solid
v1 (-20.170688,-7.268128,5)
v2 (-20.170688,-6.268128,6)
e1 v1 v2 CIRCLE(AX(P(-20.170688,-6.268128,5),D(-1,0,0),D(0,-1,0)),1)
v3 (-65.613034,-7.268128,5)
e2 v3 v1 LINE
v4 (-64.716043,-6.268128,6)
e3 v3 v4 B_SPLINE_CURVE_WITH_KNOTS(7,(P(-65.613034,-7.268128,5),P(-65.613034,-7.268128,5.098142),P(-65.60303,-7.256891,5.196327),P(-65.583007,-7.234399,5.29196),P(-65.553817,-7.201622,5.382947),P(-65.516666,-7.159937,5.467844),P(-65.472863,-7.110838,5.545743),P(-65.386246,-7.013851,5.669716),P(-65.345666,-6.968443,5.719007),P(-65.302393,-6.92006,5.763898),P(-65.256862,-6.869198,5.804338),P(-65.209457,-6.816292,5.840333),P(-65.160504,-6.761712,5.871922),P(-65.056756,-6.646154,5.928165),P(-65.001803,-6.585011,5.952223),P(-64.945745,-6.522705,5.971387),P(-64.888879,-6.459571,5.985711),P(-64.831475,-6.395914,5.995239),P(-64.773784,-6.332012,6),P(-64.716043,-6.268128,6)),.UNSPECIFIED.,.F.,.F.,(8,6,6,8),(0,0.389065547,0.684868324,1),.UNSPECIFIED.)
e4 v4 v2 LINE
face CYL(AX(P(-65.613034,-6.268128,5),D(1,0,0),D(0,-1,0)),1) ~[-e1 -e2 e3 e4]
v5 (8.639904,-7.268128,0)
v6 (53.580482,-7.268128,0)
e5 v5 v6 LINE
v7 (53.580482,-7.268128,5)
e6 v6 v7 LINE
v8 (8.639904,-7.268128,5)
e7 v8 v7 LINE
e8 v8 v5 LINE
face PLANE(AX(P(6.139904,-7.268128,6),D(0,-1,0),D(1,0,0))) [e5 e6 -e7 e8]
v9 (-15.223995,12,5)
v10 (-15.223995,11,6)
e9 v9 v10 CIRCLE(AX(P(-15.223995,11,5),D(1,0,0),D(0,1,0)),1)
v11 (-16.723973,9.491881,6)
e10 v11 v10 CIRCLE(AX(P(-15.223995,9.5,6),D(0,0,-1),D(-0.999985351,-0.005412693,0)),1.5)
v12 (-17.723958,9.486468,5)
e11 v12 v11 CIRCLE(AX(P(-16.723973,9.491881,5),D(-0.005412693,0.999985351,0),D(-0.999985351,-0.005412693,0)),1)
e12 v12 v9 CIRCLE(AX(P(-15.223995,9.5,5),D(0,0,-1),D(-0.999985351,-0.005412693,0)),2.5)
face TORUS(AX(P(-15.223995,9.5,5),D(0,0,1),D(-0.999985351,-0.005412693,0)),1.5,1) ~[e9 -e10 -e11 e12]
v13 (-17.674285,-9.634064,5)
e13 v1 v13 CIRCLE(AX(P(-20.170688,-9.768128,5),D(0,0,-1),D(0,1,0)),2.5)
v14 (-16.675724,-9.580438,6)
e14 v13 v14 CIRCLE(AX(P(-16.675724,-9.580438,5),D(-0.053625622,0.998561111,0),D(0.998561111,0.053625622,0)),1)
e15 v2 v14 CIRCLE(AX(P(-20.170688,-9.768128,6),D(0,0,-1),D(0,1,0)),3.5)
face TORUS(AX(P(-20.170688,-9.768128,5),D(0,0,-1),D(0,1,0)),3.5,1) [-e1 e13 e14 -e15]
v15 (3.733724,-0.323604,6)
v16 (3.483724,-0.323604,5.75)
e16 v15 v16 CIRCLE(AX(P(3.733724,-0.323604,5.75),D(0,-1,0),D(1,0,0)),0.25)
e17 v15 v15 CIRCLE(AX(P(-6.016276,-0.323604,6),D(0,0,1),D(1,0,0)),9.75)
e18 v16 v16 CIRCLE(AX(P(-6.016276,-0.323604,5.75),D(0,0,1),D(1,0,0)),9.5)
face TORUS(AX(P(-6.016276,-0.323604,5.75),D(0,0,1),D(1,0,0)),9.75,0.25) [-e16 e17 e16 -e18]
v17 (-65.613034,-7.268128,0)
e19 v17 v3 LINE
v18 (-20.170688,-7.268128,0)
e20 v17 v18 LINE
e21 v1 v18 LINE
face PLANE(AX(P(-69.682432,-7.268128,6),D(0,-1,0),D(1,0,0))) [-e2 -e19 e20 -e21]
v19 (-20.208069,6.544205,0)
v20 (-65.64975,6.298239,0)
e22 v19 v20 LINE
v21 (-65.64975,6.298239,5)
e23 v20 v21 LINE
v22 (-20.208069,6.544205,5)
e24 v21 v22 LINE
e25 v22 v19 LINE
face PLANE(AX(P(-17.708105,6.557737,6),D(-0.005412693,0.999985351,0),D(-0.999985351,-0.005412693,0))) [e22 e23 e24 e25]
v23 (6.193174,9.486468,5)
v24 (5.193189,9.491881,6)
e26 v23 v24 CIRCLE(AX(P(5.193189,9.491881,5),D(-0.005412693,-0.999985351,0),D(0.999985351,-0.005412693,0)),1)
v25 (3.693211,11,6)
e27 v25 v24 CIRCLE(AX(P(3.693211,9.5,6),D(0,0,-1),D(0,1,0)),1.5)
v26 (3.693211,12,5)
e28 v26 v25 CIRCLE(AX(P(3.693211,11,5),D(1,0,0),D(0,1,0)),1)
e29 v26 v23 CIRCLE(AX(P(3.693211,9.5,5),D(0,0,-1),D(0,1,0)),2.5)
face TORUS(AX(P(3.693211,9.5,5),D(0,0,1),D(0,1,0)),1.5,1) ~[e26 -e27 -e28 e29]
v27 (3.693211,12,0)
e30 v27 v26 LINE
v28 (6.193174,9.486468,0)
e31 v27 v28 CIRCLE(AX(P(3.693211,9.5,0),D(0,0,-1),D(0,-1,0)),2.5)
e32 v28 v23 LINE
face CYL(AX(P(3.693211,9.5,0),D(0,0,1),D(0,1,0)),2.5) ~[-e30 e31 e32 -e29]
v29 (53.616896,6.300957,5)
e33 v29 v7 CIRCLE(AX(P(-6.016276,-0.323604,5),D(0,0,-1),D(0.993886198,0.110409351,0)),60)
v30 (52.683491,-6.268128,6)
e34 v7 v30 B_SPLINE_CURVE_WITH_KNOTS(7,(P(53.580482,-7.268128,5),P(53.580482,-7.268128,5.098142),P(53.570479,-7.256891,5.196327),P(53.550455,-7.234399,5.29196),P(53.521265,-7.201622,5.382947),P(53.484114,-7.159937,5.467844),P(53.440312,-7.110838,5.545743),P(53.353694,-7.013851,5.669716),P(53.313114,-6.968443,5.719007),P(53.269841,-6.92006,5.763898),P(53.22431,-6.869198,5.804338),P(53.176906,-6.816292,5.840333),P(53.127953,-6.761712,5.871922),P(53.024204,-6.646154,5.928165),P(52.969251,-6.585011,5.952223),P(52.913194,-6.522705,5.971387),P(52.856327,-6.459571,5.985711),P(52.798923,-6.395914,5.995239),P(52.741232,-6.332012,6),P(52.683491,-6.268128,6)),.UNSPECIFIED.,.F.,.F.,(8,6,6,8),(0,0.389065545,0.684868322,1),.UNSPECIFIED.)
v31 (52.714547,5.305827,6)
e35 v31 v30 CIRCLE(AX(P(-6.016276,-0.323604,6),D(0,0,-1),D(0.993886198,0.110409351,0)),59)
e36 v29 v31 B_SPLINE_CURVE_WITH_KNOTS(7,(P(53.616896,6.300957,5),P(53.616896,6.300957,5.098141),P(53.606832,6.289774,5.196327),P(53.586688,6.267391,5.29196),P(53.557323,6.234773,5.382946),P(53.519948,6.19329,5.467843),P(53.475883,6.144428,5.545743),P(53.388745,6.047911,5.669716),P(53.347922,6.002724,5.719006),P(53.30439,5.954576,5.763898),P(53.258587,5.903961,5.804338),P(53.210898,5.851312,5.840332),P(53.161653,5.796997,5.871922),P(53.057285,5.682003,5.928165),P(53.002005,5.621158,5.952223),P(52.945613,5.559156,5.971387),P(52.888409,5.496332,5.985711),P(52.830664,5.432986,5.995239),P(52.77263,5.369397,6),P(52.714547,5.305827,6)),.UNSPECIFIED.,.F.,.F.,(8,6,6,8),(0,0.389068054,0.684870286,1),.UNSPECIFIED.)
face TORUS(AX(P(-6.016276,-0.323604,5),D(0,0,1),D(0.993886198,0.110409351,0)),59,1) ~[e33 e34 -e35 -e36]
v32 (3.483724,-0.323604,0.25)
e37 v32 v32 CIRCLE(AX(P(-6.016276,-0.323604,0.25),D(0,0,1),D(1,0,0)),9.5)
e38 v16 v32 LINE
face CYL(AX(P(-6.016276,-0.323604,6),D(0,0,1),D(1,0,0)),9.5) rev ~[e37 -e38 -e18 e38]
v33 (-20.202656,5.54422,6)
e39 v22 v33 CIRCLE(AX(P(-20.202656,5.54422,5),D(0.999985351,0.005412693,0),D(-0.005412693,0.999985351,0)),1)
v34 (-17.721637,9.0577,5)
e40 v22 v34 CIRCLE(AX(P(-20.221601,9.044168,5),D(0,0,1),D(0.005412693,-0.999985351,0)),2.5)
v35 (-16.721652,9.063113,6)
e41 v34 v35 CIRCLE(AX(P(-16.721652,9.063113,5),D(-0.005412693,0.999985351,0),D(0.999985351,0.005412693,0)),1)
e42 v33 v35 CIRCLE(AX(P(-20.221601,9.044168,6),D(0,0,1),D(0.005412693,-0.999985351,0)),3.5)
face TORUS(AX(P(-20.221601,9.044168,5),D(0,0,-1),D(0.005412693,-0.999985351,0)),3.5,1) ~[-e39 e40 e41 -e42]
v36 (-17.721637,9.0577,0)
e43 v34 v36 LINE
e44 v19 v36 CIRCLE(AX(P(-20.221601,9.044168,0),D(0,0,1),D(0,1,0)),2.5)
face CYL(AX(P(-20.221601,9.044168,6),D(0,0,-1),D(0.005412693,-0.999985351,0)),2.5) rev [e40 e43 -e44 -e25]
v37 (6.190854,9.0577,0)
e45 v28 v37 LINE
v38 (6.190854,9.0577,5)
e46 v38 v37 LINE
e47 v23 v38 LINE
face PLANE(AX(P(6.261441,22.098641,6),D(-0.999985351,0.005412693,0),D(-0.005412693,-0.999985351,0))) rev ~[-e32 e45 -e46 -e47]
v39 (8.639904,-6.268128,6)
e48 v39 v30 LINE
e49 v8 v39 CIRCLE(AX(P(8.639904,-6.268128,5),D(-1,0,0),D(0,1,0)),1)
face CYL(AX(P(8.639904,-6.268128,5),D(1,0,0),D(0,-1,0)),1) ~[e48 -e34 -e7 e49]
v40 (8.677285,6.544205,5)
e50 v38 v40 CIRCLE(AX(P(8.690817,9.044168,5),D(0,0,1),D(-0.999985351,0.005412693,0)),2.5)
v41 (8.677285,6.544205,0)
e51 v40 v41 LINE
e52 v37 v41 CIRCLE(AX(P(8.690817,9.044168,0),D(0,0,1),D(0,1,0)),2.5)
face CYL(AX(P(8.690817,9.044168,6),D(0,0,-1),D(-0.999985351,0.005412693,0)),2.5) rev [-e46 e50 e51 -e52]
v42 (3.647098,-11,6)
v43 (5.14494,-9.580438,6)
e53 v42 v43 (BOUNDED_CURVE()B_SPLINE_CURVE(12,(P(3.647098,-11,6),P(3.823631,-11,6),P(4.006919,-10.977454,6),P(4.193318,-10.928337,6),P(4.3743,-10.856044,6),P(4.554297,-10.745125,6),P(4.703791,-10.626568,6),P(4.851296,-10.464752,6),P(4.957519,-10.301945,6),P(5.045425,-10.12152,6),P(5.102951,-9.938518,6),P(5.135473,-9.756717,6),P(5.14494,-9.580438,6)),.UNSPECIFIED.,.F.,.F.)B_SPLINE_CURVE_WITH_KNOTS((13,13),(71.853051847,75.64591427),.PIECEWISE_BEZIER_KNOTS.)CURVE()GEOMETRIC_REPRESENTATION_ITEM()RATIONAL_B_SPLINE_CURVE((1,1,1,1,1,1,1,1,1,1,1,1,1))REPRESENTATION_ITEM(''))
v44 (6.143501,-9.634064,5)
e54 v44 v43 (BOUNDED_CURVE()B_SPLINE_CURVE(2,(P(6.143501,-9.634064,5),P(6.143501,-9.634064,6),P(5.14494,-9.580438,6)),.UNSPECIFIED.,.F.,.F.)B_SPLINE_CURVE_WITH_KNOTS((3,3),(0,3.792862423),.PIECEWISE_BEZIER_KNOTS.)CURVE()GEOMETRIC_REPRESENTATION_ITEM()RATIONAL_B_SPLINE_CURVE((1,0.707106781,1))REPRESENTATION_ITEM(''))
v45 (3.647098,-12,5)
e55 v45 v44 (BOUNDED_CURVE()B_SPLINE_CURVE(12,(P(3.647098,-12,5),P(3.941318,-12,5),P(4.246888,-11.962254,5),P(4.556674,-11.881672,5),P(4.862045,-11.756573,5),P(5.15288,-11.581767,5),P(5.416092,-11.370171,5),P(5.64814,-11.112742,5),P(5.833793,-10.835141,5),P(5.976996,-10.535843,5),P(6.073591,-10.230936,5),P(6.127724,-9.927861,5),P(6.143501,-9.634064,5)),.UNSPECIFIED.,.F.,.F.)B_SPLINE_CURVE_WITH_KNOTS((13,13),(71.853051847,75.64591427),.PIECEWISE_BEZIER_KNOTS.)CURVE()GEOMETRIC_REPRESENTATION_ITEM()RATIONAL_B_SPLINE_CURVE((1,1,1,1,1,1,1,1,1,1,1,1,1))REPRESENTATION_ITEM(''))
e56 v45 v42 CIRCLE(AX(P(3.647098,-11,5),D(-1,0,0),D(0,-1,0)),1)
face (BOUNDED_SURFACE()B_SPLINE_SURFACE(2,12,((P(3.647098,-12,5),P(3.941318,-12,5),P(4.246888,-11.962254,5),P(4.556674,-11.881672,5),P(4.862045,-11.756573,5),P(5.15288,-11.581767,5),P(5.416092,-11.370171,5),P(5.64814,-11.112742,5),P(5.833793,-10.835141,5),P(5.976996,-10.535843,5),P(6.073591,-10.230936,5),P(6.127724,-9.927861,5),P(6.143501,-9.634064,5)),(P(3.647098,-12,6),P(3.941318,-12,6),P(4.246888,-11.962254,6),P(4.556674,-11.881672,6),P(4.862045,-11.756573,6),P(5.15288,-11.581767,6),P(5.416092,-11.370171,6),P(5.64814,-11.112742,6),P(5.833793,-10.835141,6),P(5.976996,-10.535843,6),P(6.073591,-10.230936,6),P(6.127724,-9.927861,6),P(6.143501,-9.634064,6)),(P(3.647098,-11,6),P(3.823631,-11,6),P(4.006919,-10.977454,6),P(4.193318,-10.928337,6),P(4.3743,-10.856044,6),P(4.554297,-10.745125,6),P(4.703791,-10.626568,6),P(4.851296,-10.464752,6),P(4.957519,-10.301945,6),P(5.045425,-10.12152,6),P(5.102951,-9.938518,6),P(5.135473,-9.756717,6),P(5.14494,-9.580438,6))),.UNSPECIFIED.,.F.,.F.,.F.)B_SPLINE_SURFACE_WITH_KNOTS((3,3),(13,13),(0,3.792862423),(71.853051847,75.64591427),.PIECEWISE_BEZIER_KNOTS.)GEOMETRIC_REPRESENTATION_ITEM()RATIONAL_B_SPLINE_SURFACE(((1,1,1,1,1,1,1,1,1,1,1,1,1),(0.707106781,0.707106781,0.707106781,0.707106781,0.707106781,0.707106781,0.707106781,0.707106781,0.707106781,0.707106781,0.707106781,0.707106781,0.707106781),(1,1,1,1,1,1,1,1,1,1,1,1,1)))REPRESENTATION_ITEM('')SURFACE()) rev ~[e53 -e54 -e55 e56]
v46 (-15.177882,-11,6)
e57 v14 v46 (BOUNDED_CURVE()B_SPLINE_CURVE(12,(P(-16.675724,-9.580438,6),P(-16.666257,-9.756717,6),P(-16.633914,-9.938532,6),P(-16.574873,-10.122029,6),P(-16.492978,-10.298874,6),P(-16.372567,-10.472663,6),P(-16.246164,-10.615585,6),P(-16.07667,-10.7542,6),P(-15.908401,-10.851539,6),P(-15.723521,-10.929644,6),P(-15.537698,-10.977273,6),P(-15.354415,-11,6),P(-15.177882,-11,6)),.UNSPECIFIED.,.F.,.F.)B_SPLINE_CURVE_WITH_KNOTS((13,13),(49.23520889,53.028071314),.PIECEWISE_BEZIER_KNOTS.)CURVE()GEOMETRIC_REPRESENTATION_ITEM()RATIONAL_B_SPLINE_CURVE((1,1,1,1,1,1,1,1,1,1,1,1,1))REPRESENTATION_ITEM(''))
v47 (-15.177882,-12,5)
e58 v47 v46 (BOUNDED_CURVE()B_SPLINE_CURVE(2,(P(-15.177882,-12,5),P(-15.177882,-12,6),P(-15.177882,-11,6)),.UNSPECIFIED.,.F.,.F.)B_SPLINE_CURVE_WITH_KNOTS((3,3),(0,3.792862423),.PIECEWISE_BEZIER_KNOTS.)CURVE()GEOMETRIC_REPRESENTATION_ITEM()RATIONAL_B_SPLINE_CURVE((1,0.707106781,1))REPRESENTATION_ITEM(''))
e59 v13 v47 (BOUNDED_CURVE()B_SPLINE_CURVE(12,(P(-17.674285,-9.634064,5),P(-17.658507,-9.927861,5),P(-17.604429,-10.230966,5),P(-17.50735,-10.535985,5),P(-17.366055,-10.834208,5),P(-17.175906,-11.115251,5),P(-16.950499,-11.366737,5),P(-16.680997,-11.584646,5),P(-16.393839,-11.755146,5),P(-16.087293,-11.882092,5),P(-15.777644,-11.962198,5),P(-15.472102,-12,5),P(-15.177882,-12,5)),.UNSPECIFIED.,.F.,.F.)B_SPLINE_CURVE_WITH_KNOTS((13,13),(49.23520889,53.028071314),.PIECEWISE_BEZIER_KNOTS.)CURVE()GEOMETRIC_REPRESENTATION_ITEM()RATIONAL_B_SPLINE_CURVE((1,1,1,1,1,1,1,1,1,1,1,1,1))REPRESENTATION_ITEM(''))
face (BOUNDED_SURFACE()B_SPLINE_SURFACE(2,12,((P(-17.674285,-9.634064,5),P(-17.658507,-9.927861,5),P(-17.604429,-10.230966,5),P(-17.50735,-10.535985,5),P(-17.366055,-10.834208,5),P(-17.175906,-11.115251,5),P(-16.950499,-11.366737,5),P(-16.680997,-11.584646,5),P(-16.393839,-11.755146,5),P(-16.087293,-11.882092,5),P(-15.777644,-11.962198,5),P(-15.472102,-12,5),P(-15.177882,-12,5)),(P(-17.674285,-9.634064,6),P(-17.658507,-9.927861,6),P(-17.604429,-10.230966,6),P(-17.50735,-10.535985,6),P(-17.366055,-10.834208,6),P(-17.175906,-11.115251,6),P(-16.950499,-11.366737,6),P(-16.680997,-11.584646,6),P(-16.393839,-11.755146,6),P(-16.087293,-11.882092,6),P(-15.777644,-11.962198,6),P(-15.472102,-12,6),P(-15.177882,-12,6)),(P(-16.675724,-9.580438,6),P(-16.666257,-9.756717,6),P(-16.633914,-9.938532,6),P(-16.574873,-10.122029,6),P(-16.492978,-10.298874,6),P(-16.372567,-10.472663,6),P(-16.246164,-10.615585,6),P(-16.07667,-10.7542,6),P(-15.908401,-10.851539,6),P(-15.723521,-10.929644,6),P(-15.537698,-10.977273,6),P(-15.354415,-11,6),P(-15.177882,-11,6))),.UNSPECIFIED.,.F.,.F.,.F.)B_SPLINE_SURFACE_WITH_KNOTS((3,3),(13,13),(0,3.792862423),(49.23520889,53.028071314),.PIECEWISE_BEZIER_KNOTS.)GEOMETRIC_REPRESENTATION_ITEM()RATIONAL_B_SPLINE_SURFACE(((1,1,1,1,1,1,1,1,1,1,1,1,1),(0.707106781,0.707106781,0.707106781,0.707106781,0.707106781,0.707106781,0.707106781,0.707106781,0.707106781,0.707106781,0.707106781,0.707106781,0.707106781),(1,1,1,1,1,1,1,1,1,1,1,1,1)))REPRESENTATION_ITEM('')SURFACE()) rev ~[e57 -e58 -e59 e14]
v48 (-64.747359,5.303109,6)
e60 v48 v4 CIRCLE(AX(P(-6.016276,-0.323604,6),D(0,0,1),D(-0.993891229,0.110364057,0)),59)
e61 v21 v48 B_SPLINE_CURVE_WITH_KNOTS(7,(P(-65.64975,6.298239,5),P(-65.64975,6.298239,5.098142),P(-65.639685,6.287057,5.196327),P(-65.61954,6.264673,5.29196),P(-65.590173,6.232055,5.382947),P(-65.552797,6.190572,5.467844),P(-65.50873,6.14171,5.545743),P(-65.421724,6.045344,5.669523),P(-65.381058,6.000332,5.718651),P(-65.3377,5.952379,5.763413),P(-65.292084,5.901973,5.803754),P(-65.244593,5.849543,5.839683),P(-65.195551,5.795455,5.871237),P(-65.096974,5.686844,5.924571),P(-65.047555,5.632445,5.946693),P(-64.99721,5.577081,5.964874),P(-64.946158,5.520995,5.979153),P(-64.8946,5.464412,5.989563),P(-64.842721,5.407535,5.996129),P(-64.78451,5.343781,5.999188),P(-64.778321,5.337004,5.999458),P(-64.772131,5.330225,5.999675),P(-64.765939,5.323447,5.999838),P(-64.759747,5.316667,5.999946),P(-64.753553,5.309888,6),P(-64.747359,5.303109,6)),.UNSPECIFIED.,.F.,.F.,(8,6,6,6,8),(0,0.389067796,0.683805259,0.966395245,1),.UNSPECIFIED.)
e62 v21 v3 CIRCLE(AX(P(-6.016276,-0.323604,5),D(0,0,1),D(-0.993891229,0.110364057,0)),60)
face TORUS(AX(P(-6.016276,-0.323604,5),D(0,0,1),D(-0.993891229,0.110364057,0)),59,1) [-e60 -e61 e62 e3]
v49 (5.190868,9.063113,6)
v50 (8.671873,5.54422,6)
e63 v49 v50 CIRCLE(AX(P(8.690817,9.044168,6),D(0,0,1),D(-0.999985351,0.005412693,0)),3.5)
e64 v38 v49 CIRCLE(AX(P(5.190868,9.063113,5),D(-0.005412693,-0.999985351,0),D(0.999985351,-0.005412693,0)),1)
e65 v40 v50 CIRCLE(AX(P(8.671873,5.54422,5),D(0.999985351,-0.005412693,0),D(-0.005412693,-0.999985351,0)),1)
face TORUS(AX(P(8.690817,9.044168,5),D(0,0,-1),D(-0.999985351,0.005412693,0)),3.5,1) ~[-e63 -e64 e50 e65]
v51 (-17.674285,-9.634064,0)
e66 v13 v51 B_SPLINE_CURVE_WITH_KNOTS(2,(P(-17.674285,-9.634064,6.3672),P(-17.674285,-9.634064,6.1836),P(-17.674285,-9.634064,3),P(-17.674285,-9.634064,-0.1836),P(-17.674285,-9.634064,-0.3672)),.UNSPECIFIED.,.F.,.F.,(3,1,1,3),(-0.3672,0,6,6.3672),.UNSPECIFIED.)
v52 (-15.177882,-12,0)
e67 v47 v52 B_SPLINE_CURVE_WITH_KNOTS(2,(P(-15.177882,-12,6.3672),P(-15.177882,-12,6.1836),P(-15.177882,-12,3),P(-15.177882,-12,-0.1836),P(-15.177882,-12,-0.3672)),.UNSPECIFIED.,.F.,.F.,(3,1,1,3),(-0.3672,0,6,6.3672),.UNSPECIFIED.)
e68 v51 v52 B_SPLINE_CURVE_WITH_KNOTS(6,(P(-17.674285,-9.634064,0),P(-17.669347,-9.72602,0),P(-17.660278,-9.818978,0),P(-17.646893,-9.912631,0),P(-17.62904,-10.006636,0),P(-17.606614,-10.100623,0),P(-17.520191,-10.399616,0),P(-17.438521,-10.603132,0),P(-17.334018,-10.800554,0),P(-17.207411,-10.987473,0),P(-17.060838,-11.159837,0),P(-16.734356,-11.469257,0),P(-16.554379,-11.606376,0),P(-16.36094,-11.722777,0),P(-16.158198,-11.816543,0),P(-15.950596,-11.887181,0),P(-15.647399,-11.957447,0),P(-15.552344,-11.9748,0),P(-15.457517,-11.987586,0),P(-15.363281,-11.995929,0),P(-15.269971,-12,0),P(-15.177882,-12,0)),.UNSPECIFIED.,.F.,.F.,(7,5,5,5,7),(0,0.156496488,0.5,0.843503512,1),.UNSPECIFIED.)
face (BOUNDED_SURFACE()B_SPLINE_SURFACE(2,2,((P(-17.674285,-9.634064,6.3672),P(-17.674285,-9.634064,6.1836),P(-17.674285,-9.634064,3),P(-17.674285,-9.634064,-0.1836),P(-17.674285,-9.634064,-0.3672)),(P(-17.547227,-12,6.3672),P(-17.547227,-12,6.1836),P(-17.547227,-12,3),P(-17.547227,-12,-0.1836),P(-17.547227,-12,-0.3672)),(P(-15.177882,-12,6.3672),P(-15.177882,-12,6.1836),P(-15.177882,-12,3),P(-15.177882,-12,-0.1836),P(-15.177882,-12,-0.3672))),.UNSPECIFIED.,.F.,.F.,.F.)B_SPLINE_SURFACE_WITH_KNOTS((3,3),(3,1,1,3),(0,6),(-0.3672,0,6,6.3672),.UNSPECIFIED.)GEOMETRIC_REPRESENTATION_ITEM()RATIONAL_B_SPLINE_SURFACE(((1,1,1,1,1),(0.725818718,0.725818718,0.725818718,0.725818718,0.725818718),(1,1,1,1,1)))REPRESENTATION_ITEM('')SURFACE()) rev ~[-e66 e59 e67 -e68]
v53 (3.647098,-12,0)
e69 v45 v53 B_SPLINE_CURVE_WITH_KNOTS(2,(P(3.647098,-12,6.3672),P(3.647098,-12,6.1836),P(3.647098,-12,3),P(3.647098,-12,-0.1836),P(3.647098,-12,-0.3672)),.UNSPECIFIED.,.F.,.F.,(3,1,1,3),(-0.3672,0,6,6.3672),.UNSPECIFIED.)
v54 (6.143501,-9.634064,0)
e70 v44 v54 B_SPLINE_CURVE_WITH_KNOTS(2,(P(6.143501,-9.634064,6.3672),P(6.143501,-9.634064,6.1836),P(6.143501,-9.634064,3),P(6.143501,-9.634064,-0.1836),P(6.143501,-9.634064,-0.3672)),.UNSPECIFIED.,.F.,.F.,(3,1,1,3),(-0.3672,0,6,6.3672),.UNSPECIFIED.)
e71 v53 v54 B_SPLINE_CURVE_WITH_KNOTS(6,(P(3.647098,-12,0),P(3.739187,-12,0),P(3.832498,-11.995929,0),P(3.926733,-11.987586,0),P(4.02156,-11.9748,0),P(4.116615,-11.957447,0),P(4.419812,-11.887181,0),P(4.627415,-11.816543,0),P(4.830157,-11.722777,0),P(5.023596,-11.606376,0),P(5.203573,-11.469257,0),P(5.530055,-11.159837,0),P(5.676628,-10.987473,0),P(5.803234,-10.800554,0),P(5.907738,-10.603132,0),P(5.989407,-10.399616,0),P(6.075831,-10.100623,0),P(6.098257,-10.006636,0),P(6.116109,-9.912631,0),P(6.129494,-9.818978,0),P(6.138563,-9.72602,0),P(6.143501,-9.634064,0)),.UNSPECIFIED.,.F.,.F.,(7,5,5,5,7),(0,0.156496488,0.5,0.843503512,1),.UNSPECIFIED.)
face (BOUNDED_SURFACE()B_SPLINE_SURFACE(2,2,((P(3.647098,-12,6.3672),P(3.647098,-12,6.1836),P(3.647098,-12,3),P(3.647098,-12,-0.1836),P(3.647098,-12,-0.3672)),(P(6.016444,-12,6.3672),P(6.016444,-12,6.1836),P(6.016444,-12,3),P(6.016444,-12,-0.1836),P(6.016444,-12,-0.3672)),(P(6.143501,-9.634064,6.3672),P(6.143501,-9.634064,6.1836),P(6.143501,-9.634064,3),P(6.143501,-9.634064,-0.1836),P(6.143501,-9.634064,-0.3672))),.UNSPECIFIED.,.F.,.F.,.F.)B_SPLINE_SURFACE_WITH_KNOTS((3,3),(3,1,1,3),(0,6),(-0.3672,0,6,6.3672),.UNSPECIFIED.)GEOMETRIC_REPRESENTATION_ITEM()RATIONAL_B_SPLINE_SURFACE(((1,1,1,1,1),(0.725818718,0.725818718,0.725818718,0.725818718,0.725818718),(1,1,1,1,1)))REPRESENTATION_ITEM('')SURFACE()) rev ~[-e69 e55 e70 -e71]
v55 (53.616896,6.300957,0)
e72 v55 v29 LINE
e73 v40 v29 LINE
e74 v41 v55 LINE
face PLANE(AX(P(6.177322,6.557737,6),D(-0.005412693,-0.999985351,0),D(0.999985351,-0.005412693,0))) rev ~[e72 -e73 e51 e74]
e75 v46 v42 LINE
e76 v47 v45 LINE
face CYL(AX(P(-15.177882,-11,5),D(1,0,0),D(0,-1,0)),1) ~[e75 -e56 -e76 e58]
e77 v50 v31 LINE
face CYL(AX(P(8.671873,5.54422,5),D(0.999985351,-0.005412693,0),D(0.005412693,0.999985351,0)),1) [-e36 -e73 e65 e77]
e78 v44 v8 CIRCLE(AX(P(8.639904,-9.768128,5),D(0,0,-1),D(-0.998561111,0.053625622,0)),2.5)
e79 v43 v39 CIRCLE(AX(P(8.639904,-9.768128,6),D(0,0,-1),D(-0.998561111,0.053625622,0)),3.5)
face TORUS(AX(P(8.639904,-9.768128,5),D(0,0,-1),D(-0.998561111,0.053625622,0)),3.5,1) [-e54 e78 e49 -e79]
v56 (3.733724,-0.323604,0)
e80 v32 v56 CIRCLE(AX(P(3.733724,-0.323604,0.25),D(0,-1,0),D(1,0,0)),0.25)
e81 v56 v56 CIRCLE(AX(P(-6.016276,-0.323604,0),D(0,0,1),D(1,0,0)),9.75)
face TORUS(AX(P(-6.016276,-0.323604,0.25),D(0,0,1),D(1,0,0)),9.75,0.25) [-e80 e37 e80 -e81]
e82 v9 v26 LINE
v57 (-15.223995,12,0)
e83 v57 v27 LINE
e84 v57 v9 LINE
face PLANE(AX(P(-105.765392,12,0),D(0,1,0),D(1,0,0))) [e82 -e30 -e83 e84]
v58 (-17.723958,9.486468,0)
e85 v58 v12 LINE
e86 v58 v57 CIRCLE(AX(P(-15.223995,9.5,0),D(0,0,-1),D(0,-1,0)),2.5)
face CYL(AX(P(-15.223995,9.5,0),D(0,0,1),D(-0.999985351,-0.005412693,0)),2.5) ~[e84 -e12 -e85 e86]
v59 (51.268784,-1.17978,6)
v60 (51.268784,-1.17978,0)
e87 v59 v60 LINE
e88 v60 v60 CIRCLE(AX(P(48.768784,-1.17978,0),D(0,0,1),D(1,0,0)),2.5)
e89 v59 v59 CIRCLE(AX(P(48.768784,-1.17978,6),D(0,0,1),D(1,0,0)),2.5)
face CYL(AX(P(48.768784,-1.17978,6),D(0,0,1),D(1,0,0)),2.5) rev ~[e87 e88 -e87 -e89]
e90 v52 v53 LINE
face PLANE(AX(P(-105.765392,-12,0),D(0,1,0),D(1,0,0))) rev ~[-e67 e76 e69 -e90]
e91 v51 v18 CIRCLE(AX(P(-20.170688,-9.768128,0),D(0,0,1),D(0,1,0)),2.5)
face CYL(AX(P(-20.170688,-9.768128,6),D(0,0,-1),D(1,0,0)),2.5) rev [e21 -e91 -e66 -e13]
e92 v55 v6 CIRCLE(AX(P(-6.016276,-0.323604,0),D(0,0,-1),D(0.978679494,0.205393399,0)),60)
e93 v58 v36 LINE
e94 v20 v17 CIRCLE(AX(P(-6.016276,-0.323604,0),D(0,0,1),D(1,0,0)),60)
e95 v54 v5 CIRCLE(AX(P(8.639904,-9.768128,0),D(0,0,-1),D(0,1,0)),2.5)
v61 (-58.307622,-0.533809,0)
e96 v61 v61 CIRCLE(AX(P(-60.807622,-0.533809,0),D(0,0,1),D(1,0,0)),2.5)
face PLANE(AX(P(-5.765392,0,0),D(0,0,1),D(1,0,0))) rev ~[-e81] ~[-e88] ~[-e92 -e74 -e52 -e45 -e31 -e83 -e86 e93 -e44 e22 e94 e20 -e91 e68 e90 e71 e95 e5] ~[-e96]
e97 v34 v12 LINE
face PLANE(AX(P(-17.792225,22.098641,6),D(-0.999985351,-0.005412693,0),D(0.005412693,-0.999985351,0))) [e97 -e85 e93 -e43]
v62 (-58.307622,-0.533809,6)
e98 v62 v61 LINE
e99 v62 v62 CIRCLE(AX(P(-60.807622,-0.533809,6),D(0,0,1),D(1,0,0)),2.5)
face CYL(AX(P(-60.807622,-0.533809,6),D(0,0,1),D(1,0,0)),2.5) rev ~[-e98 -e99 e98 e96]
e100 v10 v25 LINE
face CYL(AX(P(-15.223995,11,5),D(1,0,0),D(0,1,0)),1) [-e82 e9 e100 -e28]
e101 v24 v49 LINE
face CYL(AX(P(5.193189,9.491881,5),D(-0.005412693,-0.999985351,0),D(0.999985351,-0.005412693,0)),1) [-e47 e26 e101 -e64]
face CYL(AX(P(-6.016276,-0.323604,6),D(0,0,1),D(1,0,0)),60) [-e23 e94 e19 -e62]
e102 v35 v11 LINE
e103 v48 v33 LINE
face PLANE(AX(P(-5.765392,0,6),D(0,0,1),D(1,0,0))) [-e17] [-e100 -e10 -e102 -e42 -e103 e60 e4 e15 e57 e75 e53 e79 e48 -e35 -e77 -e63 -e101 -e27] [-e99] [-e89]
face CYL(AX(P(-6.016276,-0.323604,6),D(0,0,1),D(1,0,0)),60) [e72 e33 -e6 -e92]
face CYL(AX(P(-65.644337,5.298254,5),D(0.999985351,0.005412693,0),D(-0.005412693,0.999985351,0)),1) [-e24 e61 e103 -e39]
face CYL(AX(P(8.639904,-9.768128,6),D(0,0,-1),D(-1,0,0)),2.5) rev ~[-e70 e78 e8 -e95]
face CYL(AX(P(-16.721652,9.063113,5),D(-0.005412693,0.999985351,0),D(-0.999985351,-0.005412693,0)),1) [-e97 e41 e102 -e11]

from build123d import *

# Parameters (mm, degrees)
ESQUISSE1_W             = 200
ESQUISSE1_H             = 24
BOSS_EXTRU_1_DEPTH      = 6
ESQUISSE3_R             = 9.5
ENL_V_MAT_EXTRU_1_DEPTH = 6
ESQUISSE4_R             = 114.275088212
ESQUISSE4_R_2           = 60
ENL_V_MAT_EXTRU_2_DEPTH = 6
ESQUISSE5_W             = 52.011744551
ESQUISSE5_H             = 15.54113196
ESQUISSE5_W_2           = 52.011744552
ENL_V_MAT_EXTRU_3_DEPTH = 6
CONG_1_R                = 2.5
CONG_2_R                = 2.5
CONG_3_R                = 1
CONG_4_R                = 0.25
CONG_5_R                = 0.25
ESQUISSE6_R             = 2.5
ENL_V_MAT_EXTRU_4_DEPTH = 68.365782888


with BuildPart() as part:
    # Esquisse1 → Boss.-Extru.1 (new body)
    with BuildSketch(Plane.XY):
        with Locations((-5.765391807, 0)):
            Rectangle(ESQUISSE1_W, ESQUISSE1_H)
    extrude(amount=BOSS_EXTRU_1_DEPTH)

    # Esquisse3 → Enlèv. mat.-Extru.1 (cut)
    with BuildSketch(Plane.XY.offset(6)):
        with Locations((-6.016275927, -0.323603958)):
            Circle(ESQUISSE3_R)
    extrude(amount=-ENL_V_MAT_EXTRU_1_DEPTH, mode=Mode.SUBTRACT)

    # Esquisse4 → Enlèv. mat.-Extru.2 (cut)
    with BuildSketch(Plane.XY.offset(6)):
        with Locations((-6.016275927, -0.323603958)):
            Circle(ESQUISSE4_R)
        with Locations((-6.016275927, -0.323603958)):
            Circle(ESQUISSE4_R_2, mode=Mode.SUBTRACT)
    extrude(amount=-ENL_V_MAT_EXTRU_2_DEPTH, mode=Mode.SUBTRACT)

    # Esquisse5 → Enlèv. mat.-Extru.3 (cut)
    with BuildSketch(Plane.XY.offset(6)):
        Polygon((-69.803207514, 21.817117384), (-17.792224869, 22.098641011), (-17.708105486, 6.557736709), (-69.719088132, 6.276213083), align=None)
        with Locations((-43.676559905, -15.038694091)):
            Rectangle(ESQUISSE5_W, ESQUISSE5_H)
        with Locations((32.145776291, -15.038694091)):
            Rectangle(ESQUISSE5_W_2, ESQUISSE5_H)
        Polygon((58.188304518, 6.276213083), (58.272423901, 21.817117384), (6.261441255, 22.098641011), (6.177321873, 6.557736709), align=None)
    extrude(amount=-ENL_V_MAT_EXTRU_3_DEPTH, mode=Mode.SUBTRACT)

    # Congé1
    cong_1_edges = [part.edges().sort_by_distance(p)[0] for p in [
        (-17.708105486, 6.557736709, 3),
        (6.139904015, -7.268128111, 3),
        (6.177321873, 6.557736709, 3),
        (-17.670687629, -7.268128111, 3),
    ]]
    fillet(cong_1_edges, radius=CONG_1_R)

    # Congé2
    cong_2_edges = [part.edges().sort_by_distance(p)[0] for p in [
        (6.206779607, 12, 3),
        (-17.73756322, 12, 3),
        (-17.670687629, -12, 3),
        (6.139904015, -12, 3),
    ]]
    fillet(cong_2_edges, radius=CONG_2_R)

    # Congé3
    cong_3_edges = [part.edges().sort_by_distance(p)[0] for p in [
        (31.147090613, 6.422581027, 6),
        (-42.891860863, -7.268128111, 6),
        (-17.722797632, 9.272084177, 6),
        (6.913507547, 7.285995677, 6),
        (-18.450972556, -7.953581317, 6),
        (-18.44429116, 7.285995677, 6),
        (-5.765391807, 12, 6),
        (6.192014019, 9.272084177, 6),
        (-5.765391807, -12, 6),
        (6.920188943, -7.953581317, 6),
        (5.366813532, -11.314546795, 6),
        (-16.897597145, -11.314546795, 6),
        (-16.996539353, 11.262976271, 6),
        (5.46575574, 11.262976271, 6),
        (53.983508026, -0.484618209, 6),
        (-66.016056196, -0.485985355, 6),
        (-42.928909262, 6.421222231, 6),
        (31.110193129, -7.268128111, 6),
    ]]
    fillet(cong_3_edges, radius=CONG_3_R)

    # Congé4
    cong_4_edges = [part.edges().sort_by_distance(p)[0] for p in [
        (-15.516275927, -0.323603958, 6),
    ]]
    fillet(cong_4_edges, radius=CONG_4_R)

    # Congé5
    cong_5_edges = [part.edges().sort_by_distance(p)[0] for p in [
        (-15.516275927, -0.323603958, 0),
    ]]
    fillet(cong_5_edges, radius=CONG_5_R)

    # Esquisse6 → Enlèv. mat.-Extru.4 (cut, through all)
    with BuildSketch(Plane.XY.offset(6)):
        with Locations((48.768783674, -1.17977957)):
            Circle(ESQUISSE6_R)
        with Locations((-60.807622013, -0.533809454)):
            Circle(ESQUISSE6_R)
    extrude(amount=-ENL_V_MAT_EXTRU_4_DEPTH, mode=Mode.SUBTRACT)


solid = part.part
